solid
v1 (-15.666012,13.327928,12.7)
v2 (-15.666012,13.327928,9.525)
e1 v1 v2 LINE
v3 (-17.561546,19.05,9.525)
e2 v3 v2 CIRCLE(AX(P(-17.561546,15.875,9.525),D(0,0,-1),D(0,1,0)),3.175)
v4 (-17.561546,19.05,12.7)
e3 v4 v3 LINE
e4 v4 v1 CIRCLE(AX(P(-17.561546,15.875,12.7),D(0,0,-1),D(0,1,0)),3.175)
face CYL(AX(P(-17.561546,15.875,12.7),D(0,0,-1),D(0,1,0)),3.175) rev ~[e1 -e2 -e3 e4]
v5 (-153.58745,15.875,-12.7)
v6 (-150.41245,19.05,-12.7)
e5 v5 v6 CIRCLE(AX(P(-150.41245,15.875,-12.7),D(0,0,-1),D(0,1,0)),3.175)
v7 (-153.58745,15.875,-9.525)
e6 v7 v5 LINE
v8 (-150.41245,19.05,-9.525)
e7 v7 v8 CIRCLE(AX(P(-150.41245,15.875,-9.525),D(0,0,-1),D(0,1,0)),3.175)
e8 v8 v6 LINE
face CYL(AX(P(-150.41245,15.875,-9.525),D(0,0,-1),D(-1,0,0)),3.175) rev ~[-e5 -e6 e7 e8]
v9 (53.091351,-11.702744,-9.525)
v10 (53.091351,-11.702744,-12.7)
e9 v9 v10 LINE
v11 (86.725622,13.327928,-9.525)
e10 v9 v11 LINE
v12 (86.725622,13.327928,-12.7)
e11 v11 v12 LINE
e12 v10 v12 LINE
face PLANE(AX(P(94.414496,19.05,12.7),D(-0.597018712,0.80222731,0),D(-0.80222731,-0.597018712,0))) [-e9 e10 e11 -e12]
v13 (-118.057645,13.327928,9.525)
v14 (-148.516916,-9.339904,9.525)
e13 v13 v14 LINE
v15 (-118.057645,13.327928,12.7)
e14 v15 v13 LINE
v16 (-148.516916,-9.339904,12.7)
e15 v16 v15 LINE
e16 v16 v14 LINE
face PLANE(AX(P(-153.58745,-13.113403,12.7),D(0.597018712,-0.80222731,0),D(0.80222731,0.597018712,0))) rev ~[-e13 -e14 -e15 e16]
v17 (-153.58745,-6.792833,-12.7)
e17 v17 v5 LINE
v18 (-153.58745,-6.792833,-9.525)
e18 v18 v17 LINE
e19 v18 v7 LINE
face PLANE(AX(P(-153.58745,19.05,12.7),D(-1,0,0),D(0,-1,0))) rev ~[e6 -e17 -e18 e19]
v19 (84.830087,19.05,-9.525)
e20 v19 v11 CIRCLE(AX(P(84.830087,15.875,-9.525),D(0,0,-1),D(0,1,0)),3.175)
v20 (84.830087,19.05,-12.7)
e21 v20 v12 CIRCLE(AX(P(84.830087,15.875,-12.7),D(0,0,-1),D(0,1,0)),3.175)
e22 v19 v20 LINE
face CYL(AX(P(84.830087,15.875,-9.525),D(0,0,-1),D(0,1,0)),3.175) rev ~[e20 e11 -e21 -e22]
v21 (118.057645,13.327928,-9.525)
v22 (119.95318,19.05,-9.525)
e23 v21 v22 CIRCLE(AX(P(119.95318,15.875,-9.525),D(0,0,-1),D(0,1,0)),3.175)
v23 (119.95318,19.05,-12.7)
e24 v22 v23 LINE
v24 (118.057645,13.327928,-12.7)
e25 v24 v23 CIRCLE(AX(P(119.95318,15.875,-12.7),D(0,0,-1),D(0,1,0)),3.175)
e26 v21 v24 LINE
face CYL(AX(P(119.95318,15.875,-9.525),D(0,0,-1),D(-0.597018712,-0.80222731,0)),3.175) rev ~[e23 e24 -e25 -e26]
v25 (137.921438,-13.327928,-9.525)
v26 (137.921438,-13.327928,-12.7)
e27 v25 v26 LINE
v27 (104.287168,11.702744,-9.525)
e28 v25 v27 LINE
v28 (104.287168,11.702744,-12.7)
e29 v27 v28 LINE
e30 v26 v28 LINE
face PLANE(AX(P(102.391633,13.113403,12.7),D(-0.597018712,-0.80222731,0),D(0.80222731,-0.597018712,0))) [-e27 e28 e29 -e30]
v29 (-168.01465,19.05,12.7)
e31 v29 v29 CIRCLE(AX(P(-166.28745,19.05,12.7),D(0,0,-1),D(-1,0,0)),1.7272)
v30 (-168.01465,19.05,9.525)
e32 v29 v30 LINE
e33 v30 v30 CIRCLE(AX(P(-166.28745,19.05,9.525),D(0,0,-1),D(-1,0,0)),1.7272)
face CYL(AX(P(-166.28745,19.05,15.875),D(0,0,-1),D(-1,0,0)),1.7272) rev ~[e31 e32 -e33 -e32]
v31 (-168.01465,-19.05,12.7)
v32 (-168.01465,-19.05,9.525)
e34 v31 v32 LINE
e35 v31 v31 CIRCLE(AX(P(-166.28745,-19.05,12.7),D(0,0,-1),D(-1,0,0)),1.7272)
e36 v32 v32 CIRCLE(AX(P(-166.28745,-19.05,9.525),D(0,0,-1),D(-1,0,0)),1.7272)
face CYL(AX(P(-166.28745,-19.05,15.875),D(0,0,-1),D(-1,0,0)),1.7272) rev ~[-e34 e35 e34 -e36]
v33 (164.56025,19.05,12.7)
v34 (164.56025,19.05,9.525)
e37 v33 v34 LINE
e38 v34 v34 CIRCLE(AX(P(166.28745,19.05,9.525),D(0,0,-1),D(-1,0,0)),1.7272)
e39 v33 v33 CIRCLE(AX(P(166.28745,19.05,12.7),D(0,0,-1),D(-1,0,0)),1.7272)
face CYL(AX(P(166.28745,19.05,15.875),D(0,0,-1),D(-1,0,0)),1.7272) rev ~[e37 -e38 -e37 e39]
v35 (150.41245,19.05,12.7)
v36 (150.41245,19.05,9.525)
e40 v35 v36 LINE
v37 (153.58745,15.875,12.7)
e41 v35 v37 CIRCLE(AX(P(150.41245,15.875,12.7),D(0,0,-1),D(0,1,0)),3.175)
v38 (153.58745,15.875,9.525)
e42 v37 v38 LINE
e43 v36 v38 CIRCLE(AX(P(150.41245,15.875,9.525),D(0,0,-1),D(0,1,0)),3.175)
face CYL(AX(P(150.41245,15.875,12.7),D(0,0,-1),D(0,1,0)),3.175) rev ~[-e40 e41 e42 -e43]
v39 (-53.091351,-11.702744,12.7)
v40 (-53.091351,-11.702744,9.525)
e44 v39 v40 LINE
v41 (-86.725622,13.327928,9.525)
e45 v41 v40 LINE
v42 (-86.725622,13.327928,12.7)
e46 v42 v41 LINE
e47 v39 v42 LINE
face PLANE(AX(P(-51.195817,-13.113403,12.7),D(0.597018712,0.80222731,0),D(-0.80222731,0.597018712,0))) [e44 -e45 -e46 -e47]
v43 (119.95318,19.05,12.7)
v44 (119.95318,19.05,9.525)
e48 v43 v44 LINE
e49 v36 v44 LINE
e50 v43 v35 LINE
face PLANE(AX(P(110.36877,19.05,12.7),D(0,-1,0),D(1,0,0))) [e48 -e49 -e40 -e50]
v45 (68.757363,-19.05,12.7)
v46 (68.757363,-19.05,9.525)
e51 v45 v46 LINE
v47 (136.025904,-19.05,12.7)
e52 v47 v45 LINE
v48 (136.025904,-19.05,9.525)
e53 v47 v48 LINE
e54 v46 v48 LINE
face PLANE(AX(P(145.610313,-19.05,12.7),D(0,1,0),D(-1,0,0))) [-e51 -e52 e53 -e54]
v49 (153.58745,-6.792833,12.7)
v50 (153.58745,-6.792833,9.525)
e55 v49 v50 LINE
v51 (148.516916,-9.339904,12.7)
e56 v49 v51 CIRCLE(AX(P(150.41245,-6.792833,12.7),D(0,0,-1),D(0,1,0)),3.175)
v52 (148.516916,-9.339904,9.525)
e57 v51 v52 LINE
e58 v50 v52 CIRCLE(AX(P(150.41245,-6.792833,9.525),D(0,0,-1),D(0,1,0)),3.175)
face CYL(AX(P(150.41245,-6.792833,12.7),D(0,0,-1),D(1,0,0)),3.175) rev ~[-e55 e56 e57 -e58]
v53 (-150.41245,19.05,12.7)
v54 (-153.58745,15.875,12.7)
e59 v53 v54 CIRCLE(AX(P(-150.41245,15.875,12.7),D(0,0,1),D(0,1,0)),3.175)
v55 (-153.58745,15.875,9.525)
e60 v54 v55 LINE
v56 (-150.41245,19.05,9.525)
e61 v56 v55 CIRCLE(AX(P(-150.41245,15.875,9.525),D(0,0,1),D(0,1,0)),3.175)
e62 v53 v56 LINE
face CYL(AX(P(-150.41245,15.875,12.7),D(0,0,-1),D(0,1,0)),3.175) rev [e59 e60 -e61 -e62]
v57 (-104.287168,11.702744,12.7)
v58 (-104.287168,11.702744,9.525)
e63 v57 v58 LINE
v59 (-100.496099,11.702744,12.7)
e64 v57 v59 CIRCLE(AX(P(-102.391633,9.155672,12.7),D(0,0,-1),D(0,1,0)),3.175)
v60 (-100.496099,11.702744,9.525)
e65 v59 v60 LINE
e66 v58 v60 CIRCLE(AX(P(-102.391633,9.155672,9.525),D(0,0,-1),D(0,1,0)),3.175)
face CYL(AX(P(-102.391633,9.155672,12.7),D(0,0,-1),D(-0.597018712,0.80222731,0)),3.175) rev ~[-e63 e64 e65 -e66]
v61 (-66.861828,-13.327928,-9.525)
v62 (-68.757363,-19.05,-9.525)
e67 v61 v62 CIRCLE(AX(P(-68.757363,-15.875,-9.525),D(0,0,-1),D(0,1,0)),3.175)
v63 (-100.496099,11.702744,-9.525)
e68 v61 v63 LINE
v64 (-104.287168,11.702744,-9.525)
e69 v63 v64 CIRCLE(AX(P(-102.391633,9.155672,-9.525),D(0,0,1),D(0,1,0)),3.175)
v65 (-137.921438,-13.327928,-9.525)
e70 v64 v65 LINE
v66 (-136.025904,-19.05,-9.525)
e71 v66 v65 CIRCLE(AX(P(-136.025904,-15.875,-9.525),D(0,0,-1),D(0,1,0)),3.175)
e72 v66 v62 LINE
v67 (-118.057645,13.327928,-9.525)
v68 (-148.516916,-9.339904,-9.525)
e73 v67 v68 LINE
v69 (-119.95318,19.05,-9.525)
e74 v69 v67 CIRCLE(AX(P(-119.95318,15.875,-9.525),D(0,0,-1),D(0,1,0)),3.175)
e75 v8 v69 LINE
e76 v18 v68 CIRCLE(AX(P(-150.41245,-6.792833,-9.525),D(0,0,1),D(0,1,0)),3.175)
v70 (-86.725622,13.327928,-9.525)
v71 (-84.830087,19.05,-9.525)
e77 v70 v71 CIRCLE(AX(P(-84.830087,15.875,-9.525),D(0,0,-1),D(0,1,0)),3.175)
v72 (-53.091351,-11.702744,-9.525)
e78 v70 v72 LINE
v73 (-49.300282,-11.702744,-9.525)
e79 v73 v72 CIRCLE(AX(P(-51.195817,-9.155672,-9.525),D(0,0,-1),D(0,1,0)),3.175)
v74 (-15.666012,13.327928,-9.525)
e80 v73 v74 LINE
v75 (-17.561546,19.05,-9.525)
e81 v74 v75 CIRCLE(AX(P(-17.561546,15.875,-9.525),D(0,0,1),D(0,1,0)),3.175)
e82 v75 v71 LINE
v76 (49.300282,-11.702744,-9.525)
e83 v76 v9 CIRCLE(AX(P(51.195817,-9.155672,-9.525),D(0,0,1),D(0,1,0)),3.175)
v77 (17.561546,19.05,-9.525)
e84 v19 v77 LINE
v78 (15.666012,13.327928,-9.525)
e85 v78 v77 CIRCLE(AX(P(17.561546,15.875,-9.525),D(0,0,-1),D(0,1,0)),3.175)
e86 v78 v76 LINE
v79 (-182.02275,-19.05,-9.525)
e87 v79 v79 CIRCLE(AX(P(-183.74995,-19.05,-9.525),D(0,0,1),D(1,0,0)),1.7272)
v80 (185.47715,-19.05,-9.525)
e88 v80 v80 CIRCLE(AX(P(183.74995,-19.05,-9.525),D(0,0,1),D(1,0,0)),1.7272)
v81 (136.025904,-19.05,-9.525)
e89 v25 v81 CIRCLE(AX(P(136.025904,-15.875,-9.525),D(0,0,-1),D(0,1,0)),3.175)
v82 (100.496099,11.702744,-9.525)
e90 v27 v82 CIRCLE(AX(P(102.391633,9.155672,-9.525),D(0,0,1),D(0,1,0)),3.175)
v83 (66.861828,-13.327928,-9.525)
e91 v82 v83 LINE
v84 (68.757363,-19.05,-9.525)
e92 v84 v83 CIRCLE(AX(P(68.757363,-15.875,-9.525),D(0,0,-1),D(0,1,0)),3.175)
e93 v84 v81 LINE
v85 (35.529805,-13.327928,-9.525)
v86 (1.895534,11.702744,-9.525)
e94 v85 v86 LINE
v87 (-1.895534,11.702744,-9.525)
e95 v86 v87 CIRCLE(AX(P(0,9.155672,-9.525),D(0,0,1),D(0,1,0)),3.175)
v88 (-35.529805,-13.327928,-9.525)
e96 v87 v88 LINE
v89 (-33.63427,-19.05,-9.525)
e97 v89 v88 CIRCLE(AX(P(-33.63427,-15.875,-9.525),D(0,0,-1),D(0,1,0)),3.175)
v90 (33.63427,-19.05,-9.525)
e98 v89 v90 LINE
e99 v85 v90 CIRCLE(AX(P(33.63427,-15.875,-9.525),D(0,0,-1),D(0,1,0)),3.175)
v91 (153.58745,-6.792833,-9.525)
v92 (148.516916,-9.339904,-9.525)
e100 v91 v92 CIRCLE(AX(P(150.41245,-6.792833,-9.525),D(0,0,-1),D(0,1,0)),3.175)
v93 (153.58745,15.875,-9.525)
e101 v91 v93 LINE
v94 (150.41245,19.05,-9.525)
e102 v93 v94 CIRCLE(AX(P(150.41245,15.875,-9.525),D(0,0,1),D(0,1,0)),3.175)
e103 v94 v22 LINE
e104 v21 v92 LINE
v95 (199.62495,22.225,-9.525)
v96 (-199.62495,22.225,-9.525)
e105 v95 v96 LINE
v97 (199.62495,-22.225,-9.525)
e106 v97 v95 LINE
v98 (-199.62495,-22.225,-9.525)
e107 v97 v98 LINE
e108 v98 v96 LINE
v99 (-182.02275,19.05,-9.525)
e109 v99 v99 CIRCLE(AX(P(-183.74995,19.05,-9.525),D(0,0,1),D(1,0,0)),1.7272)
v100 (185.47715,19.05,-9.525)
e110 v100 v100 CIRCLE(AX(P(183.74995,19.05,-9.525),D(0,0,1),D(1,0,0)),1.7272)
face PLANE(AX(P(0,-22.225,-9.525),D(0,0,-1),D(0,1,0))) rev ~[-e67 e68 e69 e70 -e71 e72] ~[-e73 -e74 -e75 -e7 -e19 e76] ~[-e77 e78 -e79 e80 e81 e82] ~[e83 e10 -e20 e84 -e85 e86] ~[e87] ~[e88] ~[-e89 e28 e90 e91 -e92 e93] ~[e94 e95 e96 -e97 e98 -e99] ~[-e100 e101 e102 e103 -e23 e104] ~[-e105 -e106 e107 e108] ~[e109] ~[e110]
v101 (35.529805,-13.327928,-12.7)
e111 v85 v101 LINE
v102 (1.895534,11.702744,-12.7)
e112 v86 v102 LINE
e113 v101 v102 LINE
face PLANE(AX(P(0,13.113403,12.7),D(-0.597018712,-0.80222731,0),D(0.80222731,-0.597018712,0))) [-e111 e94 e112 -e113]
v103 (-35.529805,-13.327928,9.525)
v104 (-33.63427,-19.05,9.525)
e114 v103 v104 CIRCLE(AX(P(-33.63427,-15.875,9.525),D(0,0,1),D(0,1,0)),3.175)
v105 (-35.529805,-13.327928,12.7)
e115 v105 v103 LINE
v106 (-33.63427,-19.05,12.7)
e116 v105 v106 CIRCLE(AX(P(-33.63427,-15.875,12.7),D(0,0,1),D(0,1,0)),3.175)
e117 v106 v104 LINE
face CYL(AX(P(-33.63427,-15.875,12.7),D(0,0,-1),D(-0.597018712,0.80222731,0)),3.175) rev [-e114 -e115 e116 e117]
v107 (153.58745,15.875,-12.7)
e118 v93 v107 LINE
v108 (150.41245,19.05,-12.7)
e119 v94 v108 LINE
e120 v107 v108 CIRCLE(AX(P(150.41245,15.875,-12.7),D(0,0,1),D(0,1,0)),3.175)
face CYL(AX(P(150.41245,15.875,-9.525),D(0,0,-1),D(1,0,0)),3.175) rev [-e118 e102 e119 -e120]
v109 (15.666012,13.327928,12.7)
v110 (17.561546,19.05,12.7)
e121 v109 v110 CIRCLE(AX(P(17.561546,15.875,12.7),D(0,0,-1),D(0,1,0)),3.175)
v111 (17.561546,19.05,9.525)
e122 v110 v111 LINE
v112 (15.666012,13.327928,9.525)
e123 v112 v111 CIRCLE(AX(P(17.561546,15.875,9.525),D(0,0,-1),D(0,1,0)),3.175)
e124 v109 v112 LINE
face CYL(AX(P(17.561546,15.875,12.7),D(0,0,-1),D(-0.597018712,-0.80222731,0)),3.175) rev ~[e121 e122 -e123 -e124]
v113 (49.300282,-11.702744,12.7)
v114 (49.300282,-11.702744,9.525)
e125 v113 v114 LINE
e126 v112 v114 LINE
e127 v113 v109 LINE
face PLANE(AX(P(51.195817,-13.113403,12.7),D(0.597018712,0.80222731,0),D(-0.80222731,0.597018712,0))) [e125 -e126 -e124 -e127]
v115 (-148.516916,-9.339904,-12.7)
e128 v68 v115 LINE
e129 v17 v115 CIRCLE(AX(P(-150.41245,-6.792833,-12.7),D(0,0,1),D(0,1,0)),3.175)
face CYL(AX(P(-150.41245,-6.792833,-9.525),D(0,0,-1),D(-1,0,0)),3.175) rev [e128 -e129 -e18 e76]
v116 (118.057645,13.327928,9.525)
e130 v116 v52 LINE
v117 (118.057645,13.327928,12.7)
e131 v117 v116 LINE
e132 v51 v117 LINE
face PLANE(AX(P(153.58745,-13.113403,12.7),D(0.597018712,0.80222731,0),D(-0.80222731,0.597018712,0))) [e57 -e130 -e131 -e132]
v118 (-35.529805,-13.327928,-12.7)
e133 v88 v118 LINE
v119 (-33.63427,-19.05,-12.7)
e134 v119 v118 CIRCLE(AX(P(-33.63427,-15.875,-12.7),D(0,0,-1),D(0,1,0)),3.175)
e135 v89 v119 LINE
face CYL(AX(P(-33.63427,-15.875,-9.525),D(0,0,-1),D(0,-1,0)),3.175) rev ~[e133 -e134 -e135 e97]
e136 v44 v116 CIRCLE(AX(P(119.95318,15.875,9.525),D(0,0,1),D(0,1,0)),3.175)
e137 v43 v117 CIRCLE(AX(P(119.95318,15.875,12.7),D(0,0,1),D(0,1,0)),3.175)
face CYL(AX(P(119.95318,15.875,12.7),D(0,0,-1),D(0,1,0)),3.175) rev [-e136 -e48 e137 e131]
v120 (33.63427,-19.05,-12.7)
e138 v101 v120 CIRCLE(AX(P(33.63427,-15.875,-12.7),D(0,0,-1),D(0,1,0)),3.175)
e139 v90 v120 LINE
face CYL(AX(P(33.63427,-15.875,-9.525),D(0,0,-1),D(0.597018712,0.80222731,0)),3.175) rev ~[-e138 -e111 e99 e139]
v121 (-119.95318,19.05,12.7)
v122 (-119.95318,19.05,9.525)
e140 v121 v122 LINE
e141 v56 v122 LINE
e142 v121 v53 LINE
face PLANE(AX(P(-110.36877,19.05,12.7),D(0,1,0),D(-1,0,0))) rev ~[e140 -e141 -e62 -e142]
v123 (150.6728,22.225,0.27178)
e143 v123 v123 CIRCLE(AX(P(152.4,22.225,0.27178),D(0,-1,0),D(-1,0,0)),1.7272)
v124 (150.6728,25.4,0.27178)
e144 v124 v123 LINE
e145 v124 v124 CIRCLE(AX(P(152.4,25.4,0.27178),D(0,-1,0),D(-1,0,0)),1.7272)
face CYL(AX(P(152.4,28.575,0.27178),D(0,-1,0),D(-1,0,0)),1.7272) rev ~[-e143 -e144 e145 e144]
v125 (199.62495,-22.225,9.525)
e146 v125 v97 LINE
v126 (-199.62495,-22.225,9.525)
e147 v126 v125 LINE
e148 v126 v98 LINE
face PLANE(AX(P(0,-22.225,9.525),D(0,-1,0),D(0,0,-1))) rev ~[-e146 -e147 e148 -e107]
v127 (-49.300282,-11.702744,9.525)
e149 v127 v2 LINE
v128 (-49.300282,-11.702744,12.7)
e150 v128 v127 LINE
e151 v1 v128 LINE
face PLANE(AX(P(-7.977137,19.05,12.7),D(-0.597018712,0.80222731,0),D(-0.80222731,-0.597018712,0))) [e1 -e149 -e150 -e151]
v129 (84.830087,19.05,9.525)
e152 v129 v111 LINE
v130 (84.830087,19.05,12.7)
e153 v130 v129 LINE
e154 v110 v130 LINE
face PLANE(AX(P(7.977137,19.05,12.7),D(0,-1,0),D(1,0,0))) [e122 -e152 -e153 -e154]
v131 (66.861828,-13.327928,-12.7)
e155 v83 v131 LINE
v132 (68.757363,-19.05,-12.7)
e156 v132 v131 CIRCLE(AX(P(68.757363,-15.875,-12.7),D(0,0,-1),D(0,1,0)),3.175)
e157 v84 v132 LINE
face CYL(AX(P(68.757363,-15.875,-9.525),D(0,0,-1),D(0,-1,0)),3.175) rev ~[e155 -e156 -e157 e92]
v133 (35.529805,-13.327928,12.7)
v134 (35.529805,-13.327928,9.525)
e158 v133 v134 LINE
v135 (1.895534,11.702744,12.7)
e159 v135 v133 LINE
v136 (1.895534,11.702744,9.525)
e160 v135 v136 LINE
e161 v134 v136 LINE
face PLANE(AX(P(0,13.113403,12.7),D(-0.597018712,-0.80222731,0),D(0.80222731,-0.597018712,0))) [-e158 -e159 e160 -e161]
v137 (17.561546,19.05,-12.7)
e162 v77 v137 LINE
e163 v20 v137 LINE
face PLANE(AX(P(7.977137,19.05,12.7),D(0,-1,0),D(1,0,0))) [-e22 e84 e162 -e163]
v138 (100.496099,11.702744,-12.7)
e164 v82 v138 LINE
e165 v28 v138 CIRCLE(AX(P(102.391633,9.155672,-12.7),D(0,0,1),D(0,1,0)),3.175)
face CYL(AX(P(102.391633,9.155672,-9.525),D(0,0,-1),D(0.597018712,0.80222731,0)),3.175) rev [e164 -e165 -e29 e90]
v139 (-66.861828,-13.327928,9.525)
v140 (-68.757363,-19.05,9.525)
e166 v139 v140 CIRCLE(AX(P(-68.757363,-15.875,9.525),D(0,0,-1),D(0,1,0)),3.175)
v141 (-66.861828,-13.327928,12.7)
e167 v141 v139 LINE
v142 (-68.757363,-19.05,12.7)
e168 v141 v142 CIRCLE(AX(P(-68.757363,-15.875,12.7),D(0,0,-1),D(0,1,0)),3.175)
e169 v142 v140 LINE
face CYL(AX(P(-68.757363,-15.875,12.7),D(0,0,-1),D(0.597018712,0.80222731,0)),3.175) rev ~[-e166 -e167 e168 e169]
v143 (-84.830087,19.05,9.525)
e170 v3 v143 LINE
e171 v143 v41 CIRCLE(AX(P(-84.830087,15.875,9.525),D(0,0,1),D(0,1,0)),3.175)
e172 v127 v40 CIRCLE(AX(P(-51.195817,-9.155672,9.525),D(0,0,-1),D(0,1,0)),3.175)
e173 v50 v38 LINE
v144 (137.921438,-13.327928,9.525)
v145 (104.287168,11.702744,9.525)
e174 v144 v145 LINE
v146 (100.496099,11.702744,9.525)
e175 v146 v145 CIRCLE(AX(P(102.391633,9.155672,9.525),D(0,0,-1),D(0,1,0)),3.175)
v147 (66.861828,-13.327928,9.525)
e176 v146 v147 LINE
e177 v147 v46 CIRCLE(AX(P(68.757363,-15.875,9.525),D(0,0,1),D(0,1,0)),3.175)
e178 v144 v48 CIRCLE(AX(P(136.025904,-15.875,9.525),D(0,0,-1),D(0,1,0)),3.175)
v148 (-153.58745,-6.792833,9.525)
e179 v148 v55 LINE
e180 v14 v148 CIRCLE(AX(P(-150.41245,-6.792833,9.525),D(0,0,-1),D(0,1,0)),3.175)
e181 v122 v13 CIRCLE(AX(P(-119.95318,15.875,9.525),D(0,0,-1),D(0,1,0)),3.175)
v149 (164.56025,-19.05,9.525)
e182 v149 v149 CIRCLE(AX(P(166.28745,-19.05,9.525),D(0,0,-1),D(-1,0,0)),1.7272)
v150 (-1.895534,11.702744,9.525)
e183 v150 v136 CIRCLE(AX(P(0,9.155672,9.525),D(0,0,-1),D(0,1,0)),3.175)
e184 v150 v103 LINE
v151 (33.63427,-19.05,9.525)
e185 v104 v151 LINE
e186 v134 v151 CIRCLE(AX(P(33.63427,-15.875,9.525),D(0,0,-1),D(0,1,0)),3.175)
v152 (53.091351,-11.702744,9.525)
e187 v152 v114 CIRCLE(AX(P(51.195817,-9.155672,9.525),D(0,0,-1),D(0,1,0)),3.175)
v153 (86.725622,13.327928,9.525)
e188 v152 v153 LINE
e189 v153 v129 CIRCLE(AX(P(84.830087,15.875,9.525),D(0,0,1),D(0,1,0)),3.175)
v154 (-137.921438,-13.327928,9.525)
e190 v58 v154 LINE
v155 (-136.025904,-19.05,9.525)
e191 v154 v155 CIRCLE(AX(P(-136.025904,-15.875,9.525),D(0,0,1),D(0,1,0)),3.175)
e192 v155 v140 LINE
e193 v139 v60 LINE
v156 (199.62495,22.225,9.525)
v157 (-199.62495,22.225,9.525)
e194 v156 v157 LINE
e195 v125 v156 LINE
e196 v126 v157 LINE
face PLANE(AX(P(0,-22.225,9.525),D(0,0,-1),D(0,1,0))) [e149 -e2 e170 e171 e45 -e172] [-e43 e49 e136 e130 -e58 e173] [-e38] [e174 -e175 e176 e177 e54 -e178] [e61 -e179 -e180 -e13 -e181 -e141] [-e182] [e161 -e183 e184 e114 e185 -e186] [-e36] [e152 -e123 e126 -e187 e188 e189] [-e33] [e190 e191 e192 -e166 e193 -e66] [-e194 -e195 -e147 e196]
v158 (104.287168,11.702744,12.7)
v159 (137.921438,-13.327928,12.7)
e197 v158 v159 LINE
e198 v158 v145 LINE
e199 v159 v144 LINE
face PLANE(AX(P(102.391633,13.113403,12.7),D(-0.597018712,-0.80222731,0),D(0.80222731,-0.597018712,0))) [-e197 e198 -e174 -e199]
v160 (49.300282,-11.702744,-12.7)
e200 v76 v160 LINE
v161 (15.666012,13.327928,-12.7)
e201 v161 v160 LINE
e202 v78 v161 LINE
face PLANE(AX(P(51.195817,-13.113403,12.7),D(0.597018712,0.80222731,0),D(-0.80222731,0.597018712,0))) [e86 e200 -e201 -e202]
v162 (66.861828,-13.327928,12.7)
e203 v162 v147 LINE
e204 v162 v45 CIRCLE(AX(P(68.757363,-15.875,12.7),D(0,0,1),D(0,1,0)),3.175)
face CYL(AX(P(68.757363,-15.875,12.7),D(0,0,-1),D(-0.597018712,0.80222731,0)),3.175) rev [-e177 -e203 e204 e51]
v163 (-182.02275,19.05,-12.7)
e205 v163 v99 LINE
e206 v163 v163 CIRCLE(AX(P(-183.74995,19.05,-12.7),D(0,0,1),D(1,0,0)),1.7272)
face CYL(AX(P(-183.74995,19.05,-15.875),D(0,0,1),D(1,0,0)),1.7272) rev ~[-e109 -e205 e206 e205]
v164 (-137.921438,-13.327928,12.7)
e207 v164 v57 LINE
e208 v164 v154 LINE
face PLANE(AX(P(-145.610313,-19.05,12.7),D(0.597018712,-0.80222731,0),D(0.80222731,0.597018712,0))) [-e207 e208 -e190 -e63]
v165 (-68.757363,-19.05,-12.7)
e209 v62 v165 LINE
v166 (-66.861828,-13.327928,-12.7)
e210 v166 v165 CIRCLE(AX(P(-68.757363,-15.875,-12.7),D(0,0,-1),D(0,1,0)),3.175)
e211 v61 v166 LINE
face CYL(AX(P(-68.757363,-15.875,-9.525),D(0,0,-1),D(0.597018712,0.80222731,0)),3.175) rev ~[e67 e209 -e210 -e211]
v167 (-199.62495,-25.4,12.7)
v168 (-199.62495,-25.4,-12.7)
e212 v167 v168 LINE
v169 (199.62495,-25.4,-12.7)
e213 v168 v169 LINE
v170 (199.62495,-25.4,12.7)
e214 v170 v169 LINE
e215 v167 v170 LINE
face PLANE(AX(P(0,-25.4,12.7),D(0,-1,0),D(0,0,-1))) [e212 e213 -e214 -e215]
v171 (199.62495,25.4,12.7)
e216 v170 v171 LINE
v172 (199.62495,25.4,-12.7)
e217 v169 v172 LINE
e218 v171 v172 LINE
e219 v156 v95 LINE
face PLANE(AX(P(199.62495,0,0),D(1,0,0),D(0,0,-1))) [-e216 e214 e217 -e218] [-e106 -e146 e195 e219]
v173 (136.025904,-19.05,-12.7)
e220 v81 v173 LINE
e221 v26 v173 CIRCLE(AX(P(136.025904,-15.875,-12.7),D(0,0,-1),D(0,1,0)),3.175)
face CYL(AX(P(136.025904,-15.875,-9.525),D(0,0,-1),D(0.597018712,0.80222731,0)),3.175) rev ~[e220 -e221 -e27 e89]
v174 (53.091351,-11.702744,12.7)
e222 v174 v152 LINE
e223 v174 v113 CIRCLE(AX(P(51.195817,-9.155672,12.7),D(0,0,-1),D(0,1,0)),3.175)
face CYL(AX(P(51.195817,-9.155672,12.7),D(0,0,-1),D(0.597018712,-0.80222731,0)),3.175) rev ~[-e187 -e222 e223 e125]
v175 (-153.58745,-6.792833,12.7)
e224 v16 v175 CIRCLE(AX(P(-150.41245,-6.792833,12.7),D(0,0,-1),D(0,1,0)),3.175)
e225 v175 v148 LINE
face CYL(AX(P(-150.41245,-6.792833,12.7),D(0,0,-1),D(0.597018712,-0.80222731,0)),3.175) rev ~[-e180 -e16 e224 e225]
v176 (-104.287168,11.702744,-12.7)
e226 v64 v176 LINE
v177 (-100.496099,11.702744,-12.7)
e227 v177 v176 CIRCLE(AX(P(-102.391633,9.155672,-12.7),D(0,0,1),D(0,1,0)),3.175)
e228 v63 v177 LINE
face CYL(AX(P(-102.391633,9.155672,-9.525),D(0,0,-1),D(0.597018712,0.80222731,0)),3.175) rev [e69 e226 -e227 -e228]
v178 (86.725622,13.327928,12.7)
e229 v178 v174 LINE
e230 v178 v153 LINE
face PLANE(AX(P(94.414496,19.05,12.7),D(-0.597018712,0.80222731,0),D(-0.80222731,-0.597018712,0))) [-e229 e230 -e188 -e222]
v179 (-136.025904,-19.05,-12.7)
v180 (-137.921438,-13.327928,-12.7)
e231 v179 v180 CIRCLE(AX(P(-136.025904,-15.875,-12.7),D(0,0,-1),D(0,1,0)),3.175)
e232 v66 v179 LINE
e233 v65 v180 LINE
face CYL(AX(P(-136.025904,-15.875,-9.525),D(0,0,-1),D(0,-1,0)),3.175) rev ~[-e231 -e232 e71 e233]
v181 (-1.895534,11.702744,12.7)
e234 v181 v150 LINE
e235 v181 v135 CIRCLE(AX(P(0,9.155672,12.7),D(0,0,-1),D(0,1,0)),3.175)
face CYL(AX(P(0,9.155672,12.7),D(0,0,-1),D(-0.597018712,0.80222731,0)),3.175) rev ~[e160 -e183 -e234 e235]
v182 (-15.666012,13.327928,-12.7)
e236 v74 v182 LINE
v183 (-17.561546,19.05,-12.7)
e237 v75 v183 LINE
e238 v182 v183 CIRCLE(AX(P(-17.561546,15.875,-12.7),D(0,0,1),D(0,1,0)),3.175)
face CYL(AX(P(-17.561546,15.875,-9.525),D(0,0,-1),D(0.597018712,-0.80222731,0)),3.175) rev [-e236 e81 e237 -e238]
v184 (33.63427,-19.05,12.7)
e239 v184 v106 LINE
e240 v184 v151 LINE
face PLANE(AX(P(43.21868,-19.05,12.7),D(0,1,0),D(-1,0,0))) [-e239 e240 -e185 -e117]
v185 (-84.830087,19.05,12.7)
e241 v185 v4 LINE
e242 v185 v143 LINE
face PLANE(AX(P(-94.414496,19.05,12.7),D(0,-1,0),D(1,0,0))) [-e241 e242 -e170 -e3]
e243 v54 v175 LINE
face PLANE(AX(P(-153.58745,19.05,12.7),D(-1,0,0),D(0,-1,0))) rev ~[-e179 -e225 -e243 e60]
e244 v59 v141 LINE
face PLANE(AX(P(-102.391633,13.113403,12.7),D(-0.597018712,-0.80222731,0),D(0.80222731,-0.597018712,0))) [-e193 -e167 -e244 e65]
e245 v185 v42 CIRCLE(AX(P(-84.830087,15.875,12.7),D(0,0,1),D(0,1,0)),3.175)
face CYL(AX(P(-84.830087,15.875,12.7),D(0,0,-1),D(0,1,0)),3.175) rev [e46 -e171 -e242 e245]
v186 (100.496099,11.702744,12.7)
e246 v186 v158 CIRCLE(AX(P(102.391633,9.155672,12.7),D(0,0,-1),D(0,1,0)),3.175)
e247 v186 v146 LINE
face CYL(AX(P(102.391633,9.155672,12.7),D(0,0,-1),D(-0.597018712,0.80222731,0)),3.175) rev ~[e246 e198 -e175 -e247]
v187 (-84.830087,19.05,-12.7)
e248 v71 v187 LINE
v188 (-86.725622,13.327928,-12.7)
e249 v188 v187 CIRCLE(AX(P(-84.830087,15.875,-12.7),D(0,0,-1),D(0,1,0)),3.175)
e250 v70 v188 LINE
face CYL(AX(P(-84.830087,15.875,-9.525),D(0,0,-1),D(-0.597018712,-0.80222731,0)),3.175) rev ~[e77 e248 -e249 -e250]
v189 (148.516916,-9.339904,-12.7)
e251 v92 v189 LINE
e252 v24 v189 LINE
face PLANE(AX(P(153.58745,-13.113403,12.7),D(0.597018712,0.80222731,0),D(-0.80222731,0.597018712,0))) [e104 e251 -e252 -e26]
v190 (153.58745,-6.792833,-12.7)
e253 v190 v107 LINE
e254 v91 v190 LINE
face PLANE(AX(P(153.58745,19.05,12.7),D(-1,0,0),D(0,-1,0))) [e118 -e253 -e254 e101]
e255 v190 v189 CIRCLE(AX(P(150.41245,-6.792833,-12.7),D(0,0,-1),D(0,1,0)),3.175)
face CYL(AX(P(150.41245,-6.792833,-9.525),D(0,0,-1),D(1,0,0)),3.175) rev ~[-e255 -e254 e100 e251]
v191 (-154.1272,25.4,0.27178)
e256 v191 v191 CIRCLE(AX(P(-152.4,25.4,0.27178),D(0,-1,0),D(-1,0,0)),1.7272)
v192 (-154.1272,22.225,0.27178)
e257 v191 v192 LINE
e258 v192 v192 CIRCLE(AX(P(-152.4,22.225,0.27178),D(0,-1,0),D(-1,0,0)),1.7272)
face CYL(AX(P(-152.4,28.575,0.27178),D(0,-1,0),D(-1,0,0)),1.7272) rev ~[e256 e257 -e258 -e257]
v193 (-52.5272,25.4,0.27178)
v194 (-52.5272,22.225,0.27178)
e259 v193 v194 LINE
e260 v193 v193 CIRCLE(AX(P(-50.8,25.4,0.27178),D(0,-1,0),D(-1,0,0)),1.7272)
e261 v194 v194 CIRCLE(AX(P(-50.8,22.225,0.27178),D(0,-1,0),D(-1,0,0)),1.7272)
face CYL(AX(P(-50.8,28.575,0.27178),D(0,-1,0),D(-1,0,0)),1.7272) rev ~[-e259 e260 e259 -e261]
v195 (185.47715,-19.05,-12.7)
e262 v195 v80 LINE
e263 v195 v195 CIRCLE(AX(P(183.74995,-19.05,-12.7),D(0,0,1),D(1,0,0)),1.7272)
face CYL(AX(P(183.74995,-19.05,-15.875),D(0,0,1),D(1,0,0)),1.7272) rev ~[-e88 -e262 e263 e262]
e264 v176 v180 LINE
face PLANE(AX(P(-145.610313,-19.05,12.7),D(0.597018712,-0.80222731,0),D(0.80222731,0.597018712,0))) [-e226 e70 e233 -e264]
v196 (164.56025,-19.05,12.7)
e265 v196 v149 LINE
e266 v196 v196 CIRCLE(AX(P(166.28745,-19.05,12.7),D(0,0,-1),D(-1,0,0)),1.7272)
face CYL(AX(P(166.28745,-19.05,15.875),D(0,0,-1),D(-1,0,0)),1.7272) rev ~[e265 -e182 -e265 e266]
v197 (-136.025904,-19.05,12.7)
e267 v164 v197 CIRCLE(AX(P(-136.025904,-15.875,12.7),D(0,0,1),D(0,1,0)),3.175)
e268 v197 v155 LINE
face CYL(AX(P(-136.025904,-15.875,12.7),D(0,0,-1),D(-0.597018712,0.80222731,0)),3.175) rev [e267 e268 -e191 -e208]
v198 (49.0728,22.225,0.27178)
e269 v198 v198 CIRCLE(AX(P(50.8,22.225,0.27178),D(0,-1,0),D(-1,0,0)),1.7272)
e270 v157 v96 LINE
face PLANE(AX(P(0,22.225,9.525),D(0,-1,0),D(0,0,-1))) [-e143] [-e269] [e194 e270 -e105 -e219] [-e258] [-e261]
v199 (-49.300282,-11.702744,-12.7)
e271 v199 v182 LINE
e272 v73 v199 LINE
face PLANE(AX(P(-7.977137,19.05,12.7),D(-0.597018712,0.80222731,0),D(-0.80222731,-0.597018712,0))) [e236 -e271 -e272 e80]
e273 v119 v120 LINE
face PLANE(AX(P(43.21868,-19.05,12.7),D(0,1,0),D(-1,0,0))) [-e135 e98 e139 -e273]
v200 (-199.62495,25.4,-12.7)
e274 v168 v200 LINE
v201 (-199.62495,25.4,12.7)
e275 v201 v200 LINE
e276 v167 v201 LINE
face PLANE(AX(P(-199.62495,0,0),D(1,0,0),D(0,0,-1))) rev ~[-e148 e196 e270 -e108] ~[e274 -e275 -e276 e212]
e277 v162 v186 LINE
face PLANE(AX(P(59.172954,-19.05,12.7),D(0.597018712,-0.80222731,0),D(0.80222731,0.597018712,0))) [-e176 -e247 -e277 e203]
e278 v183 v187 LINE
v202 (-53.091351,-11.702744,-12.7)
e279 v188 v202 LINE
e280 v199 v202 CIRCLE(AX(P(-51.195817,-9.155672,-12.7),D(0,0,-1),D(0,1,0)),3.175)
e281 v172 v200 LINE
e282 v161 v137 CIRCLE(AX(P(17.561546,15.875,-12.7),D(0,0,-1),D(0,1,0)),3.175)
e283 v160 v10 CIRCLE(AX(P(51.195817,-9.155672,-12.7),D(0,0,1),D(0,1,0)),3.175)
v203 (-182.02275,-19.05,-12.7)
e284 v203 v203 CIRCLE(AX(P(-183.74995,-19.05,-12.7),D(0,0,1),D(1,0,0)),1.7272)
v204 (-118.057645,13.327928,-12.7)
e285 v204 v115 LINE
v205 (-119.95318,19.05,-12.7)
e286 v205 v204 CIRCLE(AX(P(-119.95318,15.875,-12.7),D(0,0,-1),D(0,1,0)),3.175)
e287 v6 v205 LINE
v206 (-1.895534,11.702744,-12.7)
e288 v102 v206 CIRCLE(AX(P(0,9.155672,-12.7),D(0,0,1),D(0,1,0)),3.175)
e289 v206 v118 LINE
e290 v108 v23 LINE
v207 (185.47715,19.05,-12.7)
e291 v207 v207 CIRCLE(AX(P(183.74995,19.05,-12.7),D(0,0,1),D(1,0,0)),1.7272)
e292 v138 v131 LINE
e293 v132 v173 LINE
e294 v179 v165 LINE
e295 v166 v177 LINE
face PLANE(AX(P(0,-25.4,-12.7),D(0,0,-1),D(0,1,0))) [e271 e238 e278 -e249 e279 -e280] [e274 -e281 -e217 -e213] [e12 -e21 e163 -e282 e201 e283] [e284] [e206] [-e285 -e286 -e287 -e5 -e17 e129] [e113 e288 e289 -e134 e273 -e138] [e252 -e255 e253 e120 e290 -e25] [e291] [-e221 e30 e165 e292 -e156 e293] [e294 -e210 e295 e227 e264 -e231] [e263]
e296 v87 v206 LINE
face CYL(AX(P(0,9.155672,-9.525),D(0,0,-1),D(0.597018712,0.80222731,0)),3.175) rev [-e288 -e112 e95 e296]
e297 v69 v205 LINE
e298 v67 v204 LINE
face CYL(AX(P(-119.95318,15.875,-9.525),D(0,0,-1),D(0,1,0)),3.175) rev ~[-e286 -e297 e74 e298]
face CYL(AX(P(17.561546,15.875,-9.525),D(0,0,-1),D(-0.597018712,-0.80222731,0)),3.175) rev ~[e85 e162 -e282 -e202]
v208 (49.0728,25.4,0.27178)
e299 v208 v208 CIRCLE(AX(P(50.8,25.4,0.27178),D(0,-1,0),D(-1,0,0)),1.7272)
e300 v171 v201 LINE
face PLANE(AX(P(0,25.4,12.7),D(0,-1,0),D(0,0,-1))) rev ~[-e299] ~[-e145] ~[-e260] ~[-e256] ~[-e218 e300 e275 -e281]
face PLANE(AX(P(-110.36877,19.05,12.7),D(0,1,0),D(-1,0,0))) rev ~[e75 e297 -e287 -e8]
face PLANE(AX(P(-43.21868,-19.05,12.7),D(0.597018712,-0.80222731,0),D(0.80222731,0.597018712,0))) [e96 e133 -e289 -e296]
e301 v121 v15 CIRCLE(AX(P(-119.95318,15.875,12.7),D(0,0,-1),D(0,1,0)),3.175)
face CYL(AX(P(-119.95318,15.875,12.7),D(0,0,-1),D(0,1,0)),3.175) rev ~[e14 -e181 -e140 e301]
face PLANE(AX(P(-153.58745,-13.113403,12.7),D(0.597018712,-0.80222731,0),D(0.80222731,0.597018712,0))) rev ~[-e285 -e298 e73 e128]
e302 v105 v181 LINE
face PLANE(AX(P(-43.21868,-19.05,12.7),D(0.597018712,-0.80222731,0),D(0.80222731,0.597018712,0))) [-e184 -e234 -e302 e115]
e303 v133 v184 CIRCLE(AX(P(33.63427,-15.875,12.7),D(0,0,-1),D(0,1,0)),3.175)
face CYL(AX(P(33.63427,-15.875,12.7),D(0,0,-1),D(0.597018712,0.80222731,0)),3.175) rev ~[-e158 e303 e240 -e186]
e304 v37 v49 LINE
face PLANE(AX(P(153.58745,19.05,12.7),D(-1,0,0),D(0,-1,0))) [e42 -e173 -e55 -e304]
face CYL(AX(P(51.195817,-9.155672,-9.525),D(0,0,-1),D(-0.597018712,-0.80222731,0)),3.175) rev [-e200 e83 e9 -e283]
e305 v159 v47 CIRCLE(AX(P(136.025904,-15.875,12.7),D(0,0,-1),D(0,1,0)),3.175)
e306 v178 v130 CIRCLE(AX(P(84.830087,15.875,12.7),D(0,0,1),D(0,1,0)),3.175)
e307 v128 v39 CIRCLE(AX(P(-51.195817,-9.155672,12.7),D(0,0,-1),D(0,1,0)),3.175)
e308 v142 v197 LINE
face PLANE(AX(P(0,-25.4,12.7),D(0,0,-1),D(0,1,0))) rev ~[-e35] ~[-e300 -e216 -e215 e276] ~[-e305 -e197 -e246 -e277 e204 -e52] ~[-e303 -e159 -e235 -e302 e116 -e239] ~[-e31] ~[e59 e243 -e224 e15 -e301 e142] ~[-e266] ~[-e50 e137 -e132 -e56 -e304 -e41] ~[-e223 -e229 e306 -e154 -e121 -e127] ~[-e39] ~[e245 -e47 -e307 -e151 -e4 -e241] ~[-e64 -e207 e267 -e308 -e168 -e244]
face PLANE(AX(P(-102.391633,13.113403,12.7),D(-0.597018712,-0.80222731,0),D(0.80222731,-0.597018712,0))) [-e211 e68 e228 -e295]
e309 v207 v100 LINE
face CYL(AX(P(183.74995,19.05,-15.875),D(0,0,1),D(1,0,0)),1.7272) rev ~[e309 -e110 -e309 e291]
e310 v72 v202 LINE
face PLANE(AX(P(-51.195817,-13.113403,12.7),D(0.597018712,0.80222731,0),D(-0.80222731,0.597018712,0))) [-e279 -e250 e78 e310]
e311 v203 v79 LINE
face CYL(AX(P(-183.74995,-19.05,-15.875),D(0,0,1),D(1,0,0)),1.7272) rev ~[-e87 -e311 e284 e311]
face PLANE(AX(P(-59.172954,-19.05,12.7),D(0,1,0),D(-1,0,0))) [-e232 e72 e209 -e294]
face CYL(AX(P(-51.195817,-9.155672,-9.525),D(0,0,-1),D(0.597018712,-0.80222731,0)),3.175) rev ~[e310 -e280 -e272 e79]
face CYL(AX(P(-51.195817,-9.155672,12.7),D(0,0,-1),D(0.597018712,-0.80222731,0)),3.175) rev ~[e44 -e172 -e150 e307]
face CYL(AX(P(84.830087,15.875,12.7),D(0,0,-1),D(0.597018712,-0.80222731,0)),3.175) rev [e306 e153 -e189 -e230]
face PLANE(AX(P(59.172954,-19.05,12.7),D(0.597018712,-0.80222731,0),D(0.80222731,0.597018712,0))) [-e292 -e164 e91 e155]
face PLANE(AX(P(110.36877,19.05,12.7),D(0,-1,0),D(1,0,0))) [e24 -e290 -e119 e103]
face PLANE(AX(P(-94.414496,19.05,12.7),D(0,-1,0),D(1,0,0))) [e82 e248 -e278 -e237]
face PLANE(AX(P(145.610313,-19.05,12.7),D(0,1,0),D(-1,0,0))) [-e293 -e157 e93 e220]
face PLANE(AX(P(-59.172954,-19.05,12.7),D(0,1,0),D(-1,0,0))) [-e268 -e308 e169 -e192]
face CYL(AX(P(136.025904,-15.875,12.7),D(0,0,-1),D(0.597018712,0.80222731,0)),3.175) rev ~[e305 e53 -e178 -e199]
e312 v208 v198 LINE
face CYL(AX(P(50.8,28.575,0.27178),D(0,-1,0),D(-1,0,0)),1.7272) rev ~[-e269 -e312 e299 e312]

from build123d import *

# Parameters (mm, degrees)
SKETCH1_W                 = 25.4
SKETCH1_H                 = 50.8
SKETCH1_W_2               = 19.05
SKETCH1_H_2               = 44.45
BOSS_EXTRUDE1_DEPTH       = 199.62495
F_8_32_TAPPED_HOLE1_D     = 3.4544
F_8_32_TAPPED_HOLE1_DEPTH = 3.175
CUT_EXTRUDE2_DEPTH        = 203.831064343
FILLET1_R                 = 3.175
F_8_32_TAPPED_HOLE2_D     = 3.4544
F_8_32_TAPPED_HOLE2_DEPTH = 3.175
F_8_32_TAPPED_HOLE3_D     = 3.4544
F_8_32_TAPPED_HOLE3_DEPTH = 3.175


with BuildPart() as part:
    # Sketch1 → Boss-Extrude1 (new, symmetric)
    with BuildSketch(Plane(origin=(0, 0, 0), x_dir=(0, 0, -1), z_dir=(1, 0, 0))):
        Rectangle(SKETCH1_W, SKETCH1_H)
        Rectangle(SKETCH1_W_2, SKETCH1_H_2, mode=Mode.SUBTRACT)
    extrude(amount=BOSS_EXTRUDE1_DEPTH, both=True)

    # #8-32 Tapped Hole1
    with Locations(Plane.XY.offset(12.7)):
        with Locations((166.28745, 19.05), (166.28745, -19.05), (-166.28745, 19.05), (-166.28745, -19.05)):
            Hole(F_8_32_TAPPED_HOLE1_D / 2, depth=F_8_32_TAPPED_HOLE1_DEPTH)

    # Sketch5 → Cut-Extrude2 (cut, through all)
    with BuildSketch(Plane.XY.offset(12.7)):
        Polygon((-153.58745, 19.05), (-153.58745, -13.113403304), (-110.368770238, 19.05), align=None)
        Polygon((-145.610313096, -19.05), (-102.391633333, 13.113403304), (-59.172953571, -19.05), align=None)
        Polygon((-94.414496429, 19.05), (-7.977136904, 19.05), (-51.195816667, -13.113403304), align=None)
        Polygon((-43.218679762, -19.05), (0, 13.113403304), (43.218679762, -19.05), align=None)
        Polygon((94.414496429, 19.05), (51.195816667, -13.113403304), (7.977136904, 19.05), align=None)
        Polygon((59.172953571, -19.05), (102.391633333, 13.113403304), (145.610313096, -19.05), align=None)
        Polygon((110.368770238, 19.05), (153.58745, 19.05), (153.58745, -13.113403304), align=None)
    extrude(amount=-CUT_EXTRUDE2_DEPTH, mode=Mode.SUBTRACT)

    # Fillet1
    fillet1_edges = [part.edges().sort_by_distance(p)[0] for p in [
        (-94.414496429, 19.05, 11.1125),
        (-7.977136904, 19.05, 11.1125),
        (43.218679762, -19.05, -11.1125),
        (-43.218679762, -19.05, -11.1125),
        (0, 13.113403304, -11.1125),
        (43.218679762, -19.05, 11.1125),
        (-43.218679762, -19.05, 11.1125),
        (0, 13.113403304, 11.1125),
        (7.977136904, 19.05, -11.1125),
        (94.414496429, 19.05, -11.1125),
        (51.195816667, -13.113403304, -11.1125),
        (7.977136904, 19.05, 11.1125),
        (94.414496429, 19.05, 11.1125),
        (51.195816667, -13.113403304, 11.1125),
        (145.610313096, -19.05, -11.1125),
        (59.172953571, -19.05, -11.1125),
        (102.391633333, 13.113403304, -11.1125),
        (145.610313096, -19.05, 11.1125),
        (59.172953571, -19.05, 11.1125),
        (102.391633333, 13.113403304, 11.1125),
        (153.58745, -13.113403304, -11.1125),
        (110.368770238, 19.05, -11.1125),
        (153.58745, 19.05, -11.1125),
        (153.58745, -13.113403304, 11.1125),
        (110.368770238, 19.05, 11.1125),
        (153.58745, 19.05, 11.1125),
        (-153.58745, 19.05, -11.1125),
        (-110.368770238, 19.05, -11.1125),
        (-153.58745, -13.113403304, -11.1125),
        (-153.58745, 19.05, 11.1125),
        (-110.368770238, 19.05, 11.1125),
        (-153.58745, -13.113403304, 11.1125),
        (-59.172953571, -19.05, -11.1125),
        (-145.610313096, -19.05, -11.1125),
        (-102.391633333, 13.113403304, -11.1125),
        (-59.172953571, -19.05, 11.1125),
        (-145.610313096, -19.05, 11.1125),
        (-102.391633333, 13.113403304, 11.1125),
        (-51.195816667, -13.113403304, -11.1125),
        (-94.414496429, 19.05, -11.1125),
        (-7.977136904, 19.05, -11.1125),
        (-51.195816667, -13.113403304, 11.1125),
    ]]
    fillet(fillet1_edges, radius=FILLET1_R)

    # #8-32 Tapped Hole2
    with Locations(Plane(origin=(0, 0, -12.7), x_dir=(-1, 0, 0), z_dir=(0, 0, -1))):
        with Locations((-183.74995, 19.05), (-183.74995, -19.05), (183.74995, -19.05), (183.74995, 19.05)):
            Hole(F_8_32_TAPPED_HOLE2_D / 2, depth=F_8_32_TAPPED_HOLE2_DEPTH)

    # #8-32 Tapped Hole3
    with Locations(Plane(origin=(0, 25.4, 0), x_dir=(1, 0, 0), z_dir=(0, 1, 0))):
        with Locations((-152.4, -0.27178), (-50.8, -0.27178), (50.8, -0.27178), (152.4, -0.27178)):
            Hole(F_8_32_TAPPED_HOLE3_D / 2, depth=F_8_32_TAPPED_HOLE3_DEPTH)


solid = part.part
